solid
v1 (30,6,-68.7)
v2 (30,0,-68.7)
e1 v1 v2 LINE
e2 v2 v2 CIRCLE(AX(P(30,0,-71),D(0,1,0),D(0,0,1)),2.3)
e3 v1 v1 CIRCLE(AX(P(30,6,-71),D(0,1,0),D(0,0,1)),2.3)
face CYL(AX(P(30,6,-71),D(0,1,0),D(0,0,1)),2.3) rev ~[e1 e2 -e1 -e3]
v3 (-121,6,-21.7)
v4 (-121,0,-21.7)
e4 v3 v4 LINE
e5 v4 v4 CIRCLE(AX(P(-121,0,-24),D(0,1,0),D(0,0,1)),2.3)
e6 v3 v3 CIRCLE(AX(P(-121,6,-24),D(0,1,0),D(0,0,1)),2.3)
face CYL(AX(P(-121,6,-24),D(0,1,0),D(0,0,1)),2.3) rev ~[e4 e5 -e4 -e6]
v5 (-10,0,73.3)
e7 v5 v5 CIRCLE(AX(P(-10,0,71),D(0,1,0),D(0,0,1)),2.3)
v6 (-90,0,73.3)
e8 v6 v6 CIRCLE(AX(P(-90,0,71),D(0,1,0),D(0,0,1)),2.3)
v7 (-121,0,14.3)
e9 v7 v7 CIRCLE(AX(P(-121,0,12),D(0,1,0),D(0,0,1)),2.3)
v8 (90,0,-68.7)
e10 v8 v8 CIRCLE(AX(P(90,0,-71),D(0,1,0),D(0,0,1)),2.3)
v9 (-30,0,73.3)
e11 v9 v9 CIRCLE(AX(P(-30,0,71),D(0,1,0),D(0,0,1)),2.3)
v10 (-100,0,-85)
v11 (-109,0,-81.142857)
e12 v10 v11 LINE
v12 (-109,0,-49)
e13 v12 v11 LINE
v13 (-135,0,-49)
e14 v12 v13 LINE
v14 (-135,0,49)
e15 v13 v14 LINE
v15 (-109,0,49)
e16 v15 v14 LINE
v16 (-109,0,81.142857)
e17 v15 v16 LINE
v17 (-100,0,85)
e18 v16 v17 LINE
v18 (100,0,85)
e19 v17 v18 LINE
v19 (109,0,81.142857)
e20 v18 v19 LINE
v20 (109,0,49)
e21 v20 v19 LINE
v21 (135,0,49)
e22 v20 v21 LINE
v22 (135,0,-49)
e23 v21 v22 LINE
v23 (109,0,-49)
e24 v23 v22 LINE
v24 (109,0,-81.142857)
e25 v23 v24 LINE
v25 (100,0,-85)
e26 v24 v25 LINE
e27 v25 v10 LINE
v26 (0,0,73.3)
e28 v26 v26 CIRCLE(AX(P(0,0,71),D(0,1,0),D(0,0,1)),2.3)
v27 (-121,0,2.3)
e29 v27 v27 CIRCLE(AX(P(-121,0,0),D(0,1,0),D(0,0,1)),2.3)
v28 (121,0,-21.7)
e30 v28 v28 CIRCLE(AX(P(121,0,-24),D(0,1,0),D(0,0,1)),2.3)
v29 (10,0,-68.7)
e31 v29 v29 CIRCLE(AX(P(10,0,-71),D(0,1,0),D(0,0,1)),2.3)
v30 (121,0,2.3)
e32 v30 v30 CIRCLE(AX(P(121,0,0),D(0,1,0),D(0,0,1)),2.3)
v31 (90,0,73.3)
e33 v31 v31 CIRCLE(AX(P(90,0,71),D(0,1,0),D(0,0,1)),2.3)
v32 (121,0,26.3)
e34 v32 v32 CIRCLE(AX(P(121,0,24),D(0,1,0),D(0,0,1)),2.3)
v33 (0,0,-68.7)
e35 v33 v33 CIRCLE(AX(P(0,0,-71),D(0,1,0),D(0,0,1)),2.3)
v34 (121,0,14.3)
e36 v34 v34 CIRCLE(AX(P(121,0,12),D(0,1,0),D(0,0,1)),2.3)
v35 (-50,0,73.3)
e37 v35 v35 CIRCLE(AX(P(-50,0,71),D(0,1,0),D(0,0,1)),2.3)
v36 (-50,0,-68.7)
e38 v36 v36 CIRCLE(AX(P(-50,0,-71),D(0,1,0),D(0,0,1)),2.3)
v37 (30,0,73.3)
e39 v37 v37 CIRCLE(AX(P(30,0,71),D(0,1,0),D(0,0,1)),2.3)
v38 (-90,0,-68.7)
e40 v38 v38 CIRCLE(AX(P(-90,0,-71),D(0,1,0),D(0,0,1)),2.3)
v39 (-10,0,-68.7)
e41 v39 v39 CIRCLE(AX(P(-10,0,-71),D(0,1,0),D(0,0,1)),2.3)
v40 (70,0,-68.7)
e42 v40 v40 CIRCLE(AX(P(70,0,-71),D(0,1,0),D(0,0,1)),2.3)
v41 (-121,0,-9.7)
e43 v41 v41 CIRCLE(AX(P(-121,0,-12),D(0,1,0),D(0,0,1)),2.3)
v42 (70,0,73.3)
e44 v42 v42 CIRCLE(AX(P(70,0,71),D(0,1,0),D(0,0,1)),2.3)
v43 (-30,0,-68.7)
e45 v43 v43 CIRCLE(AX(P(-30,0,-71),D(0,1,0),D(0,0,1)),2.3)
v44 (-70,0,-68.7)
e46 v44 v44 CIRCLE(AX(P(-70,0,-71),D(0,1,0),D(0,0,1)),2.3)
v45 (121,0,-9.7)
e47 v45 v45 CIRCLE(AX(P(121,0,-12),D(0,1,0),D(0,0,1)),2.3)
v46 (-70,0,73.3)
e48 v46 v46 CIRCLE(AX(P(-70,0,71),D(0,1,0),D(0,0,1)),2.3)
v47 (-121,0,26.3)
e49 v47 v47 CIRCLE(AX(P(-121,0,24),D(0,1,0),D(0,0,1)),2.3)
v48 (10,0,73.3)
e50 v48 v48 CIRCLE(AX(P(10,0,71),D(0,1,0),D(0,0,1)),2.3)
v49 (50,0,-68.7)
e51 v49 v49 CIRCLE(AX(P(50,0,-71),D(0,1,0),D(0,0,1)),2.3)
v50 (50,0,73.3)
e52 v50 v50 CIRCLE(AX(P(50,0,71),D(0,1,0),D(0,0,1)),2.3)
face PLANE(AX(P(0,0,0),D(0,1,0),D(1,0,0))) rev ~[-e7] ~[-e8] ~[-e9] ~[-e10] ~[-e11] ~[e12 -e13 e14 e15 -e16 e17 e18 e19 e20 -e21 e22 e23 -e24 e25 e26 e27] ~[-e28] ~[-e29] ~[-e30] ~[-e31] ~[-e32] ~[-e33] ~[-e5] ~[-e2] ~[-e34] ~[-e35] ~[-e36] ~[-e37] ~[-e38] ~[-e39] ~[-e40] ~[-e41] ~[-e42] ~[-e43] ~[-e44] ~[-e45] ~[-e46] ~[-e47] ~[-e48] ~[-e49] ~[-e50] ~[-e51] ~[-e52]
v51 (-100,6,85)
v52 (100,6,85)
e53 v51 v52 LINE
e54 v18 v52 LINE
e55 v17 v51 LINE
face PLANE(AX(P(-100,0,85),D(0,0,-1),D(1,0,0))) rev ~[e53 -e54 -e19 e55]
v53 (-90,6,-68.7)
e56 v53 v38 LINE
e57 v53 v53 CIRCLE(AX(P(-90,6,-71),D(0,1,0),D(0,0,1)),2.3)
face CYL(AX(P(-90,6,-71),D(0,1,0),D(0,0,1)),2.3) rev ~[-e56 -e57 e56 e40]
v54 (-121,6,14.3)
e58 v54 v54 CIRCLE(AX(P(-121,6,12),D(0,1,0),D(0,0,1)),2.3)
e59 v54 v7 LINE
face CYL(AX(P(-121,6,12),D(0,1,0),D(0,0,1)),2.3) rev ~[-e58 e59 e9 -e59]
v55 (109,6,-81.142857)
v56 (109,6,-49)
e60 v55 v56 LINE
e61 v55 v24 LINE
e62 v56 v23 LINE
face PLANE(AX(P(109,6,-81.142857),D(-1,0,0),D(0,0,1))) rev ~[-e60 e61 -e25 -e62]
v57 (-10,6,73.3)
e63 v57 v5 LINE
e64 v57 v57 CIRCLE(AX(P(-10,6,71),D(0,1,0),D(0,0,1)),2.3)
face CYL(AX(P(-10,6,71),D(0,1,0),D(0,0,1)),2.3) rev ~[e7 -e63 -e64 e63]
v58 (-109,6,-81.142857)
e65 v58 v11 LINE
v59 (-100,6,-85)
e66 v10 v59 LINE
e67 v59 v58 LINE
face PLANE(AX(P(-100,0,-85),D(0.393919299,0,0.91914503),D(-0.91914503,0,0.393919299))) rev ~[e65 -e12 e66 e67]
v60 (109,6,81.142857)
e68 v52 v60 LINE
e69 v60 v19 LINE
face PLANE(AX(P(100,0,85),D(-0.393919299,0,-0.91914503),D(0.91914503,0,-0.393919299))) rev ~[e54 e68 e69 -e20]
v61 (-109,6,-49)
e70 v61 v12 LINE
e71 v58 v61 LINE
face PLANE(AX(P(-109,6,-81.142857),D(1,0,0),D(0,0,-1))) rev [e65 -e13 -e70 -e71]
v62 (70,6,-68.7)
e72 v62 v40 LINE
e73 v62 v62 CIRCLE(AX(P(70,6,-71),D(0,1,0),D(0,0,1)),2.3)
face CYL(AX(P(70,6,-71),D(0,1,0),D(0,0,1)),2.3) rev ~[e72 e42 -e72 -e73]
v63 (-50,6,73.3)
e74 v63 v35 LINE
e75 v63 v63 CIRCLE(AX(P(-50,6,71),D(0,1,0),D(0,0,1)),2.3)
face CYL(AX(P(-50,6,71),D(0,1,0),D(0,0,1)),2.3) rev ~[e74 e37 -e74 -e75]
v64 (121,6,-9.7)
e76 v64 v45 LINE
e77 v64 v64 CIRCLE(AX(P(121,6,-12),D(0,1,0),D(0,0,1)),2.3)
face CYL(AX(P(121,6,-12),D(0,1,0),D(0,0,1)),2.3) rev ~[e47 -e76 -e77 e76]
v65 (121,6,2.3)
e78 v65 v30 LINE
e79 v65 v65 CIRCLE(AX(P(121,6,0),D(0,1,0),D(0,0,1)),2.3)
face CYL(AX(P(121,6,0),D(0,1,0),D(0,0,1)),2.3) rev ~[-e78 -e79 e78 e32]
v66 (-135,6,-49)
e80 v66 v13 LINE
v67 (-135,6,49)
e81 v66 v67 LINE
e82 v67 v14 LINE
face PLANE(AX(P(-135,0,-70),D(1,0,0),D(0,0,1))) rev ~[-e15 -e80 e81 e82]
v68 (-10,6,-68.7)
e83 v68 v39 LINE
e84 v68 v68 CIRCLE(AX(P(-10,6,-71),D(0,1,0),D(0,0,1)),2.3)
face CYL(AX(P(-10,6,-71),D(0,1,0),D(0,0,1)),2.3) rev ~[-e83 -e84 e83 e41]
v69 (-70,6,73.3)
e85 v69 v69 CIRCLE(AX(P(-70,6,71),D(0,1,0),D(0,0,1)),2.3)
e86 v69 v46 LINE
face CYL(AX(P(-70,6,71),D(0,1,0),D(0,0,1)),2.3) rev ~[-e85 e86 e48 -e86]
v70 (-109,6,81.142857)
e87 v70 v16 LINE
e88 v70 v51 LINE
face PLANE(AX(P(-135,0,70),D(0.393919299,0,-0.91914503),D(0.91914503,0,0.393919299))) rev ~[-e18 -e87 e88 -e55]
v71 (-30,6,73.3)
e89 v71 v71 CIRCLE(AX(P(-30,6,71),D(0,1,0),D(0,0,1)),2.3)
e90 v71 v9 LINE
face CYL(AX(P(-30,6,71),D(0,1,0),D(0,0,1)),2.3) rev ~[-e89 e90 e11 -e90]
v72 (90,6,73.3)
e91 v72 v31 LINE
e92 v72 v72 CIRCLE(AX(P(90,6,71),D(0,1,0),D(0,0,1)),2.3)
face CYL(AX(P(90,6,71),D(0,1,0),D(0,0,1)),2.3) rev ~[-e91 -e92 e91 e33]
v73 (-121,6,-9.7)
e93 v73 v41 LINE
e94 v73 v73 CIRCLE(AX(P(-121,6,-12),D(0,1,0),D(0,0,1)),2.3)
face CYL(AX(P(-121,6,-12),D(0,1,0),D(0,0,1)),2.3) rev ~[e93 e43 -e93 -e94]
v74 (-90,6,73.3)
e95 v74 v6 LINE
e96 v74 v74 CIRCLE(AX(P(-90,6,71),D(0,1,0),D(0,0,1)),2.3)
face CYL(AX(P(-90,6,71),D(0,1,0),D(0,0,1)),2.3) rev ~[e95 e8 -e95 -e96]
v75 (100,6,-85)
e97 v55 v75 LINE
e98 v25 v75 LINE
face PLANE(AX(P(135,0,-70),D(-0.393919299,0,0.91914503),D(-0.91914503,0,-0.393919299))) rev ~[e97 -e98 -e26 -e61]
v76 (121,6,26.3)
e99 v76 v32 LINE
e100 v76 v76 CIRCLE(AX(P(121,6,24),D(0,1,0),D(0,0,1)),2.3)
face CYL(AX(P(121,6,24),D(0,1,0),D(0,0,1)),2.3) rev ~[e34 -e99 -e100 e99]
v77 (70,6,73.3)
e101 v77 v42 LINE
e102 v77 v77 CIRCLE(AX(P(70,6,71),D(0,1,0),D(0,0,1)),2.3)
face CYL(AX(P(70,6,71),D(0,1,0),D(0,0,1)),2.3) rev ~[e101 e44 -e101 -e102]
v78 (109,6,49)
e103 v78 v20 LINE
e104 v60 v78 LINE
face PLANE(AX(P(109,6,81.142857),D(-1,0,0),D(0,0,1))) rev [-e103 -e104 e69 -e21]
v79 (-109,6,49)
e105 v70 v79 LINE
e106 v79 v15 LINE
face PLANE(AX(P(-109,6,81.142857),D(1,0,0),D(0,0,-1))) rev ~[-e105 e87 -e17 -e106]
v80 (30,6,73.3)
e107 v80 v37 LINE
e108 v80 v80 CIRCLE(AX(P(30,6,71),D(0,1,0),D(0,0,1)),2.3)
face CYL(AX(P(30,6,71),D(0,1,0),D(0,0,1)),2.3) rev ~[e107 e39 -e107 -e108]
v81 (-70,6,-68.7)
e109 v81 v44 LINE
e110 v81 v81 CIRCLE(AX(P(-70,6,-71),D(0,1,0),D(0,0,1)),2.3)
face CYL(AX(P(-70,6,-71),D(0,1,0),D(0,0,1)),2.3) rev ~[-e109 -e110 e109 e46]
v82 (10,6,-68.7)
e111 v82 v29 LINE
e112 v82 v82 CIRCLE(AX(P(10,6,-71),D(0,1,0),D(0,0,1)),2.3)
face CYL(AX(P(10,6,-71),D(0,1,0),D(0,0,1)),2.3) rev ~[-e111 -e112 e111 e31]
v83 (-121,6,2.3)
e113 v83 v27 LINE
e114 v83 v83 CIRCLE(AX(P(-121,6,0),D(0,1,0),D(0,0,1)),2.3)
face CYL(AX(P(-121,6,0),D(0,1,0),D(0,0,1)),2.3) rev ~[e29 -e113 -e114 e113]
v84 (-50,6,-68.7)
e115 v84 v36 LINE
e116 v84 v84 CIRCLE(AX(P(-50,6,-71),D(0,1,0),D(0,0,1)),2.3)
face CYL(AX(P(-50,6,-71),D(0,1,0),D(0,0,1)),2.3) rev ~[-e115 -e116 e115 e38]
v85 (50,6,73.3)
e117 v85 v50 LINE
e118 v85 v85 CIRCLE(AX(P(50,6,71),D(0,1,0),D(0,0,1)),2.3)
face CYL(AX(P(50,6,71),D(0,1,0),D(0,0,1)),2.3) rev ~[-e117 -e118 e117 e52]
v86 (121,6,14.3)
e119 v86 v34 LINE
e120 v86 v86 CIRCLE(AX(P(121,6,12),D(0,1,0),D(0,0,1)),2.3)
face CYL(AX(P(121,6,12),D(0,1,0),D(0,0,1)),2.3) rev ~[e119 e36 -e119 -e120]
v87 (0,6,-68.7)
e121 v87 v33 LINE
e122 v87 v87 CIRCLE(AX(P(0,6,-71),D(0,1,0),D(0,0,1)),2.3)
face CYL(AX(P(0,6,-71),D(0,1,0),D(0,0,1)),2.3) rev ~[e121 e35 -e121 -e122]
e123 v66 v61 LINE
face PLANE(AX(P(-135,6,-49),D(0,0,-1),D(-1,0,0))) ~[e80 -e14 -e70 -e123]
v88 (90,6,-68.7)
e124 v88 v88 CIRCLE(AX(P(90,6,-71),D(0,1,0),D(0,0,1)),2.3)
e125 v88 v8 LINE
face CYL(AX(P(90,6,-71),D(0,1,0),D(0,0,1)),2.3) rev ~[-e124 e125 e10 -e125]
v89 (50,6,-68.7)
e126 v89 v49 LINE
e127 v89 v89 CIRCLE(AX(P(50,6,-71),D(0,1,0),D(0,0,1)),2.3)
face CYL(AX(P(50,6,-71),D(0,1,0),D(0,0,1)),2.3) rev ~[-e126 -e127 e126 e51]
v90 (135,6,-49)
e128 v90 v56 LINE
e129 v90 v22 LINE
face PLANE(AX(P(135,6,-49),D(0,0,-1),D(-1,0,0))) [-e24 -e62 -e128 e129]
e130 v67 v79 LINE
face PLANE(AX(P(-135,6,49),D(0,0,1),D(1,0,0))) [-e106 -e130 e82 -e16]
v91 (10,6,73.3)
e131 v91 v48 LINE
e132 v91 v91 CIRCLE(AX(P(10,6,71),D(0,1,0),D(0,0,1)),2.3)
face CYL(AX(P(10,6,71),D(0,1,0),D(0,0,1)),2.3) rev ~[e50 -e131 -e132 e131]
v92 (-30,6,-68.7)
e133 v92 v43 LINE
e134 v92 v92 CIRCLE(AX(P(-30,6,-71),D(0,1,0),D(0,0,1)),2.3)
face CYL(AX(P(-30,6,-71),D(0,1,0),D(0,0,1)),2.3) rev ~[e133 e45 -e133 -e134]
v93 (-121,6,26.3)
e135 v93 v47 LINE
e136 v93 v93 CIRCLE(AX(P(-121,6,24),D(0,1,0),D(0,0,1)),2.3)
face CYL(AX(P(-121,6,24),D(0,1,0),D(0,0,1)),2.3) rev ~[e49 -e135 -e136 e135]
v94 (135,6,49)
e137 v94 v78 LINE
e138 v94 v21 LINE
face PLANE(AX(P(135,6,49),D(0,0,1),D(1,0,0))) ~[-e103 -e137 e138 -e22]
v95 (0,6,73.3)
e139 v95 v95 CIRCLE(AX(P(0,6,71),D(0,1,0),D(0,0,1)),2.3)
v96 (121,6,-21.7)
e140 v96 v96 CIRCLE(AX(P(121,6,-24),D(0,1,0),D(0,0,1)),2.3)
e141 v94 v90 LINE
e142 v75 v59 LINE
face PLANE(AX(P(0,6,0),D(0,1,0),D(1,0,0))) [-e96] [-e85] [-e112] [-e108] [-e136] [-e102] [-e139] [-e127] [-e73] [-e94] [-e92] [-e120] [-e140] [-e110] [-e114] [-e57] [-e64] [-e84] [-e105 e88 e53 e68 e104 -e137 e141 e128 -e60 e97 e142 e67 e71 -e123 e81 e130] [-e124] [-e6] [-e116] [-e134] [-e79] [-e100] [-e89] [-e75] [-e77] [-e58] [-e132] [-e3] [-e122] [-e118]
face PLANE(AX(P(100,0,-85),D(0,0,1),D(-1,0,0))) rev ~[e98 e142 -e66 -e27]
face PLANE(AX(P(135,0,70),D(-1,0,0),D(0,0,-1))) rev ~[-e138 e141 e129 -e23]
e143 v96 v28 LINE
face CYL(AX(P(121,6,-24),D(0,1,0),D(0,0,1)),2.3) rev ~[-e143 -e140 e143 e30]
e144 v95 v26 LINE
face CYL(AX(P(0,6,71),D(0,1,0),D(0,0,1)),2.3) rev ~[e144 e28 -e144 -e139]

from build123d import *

# Parameters (mm, degrees)
BOSS_EXTRU_1_DEPTH       = 6
ENL_V_MAT_EXTRU_6_REACH  = 161.643
ESQUISSE15_R             = 2.3
ENL_V_MAT_EXTRU_7_REACH  = 161.643
ESQUISSE17_R             = 2.3
ENL_V_MAT_EXTRU_10_REACH = 161.643
SYM_TRIE8_COPY_1_REACH   = 161.643
ENL_V_MAT_EXTRU_11_REACH = 161.643
ESQUISSE21_R             = 2.3


with BuildPart() as part:
    # Esquisse1 → Boss.-Extru.1 (new body)
    with BuildSketch(Plane(origin=(0, 0, 0), x_dir=(1, 0, 0), z_dir=(0, 1, 0))):
        Polygon((-135, 0), (-135, -70), (-100, -85), (0, -85), (100, -85), (135, -70), (135, 0), (135, 70), (100, 85), (0, 85), (-100, 85), (-135, 70), align=None)
    extrude(amount=BOSS_EXTRU_1_DEPTH)

    # Esquisse15 → Enlèv. mat.-Extru.6 (cut, up to next)
    with BuildSketch(Plane(origin=(0, 6, 0), x_dir=(1, 0, 0), z_dir=(0, 1, 0)), mode=Mode.PRIVATE) as enl_v_mat_extru_6_sk1:
        with Locations(Location((-120, -60, 0), (0, 0, 270))):
            Circle(ESQUISSE15_R)
    enl_v_mat_extru_6_tool1 = extrude(enl_v_mat_extru_6_sk1.sketch, amount=-ENL_V_MAT_EXTRU_6_REACH, mode=Mode.PRIVATE) & part.part
    # Esquisse15 → Enlèv. mat.-Extru.6 (cut, up to next)
    with BuildSketch(Plane(origin=(0, 6, 0), x_dir=(1, 0, 0), z_dir=(0, 1, 0)), mode=Mode.PRIVATE) as enl_v_mat_extru_6_sk2:
        with Locations(Location((-120, 60, 0), (0, 0, 270))):
            Circle(ESQUISSE15_R)
    enl_v_mat_extru_6_tool2 = extrude(enl_v_mat_extru_6_sk2.sketch, amount=-ENL_V_MAT_EXTRU_6_REACH, mode=Mode.PRIVATE) & part.part
    enl_v_mat_extru_6_1 = enl_v_mat_extru_6_tool1.solids().sort_by_distance((-120, 6, 60))[0]
    add(enl_v_mat_extru_6_1, mode=Mode.SUBTRACT)
    enl_v_mat_extru_6_2 = enl_v_mat_extru_6_tool2.solids().sort_by_distance((-120, 6, -60))[0]
    add(enl_v_mat_extru_6_2, mode=Mode.SUBTRACT)
    enl_v_mat_extru_6 = enl_v_mat_extru_6_1 + enl_v_mat_extru_6_2  # Enlèv. mat.-Extru.6 as one shape, for the pattern or mirror that repeats it

    # Symétrie5: Enlèv. mat.-Extru.6 across plane
    add(enl_v_mat_extru_6.mirror(Plane(origin=(0, 0, 0), x_dir=(0, 0, 1), z_dir=(1, 0, 0))), mode=Mode.SUBTRACT)

    # Esquisse17 → Enlèv. mat.-Extru.7 (cut, up to next)
    with BuildSketch(Plane(origin=(0, 6, 0), x_dir=(1, 0, 0), z_dir=(0, 1, 0)), mode=Mode.PRIVATE) as enl_v_mat_extru_7_sk1:
        with Locations(Location((0, -71, 0), (0, 0, 270))):
            Circle(ESQUISSE17_R)
    enl_v_mat_extru_7_tool1 = extrude(enl_v_mat_extru_7_sk1.sketch, amount=-ENL_V_MAT_EXTRU_7_REACH, mode=Mode.PRIVATE) & part.part
    # Esquisse17 → Enlèv. mat.-Extru.7 (cut, up to next)
    with BuildSketch(Plane(origin=(0, 6, 0), x_dir=(1, 0, 0), z_dir=(0, 1, 0)), mode=Mode.PRIVATE) as enl_v_mat_extru_7_sk2:
        with Locations(Location((10, -71, 0), (0, 0, 270))):
            Circle(ESQUISSE17_R)
    enl_v_mat_extru_7_tool2 = extrude(enl_v_mat_extru_7_sk2.sketch, amount=-ENL_V_MAT_EXTRU_7_REACH, mode=Mode.PRIVATE) & part.part
    # Esquisse17 → Enlèv. mat.-Extru.7 (cut, up to next)
    with BuildSketch(Plane(origin=(0, 6, 0), x_dir=(1, 0, 0), z_dir=(0, 1, 0)), mode=Mode.PRIVATE) as enl_v_mat_extru_7_sk3:
        with Locations(Location((-10, -71, 0), (0, 0, 270))):
            Circle(ESQUISSE17_R)
    enl_v_mat_extru_7_tool3 = extrude(enl_v_mat_extru_7_sk3.sketch, amount=-ENL_V_MAT_EXTRU_7_REACH, mode=Mode.PRIVATE) & part.part
    # Esquisse17 → Enlèv. mat.-Extru.7 (cut, up to next)
    with BuildSketch(Plane(origin=(0, 6, 0), x_dir=(1, 0, 0), z_dir=(0, 1, 0)), mode=Mode.PRIVATE) as enl_v_mat_extru_7_sk4:
        with Locations(Location((30, -71, 0), (0, 0, 270))):
            Circle(ESQUISSE17_R)
    enl_v_mat_extru_7_tool4 = extrude(enl_v_mat_extru_7_sk4.sketch, amount=-ENL_V_MAT_EXTRU_7_REACH, mode=Mode.PRIVATE) & part.part
    # Esquisse17 → Enlèv. mat.-Extru.7 (cut, up to next)
    with BuildSketch(Plane(origin=(0, 6, 0), x_dir=(1, 0, 0), z_dir=(0, 1, 0)), mode=Mode.PRIVATE) as enl_v_mat_extru_7_sk5:
        with Locations(Location((50, -71, 0), (0, 0, 270))):
            Circle(ESQUISSE17_R)
    enl_v_mat_extru_7_tool5 = extrude(enl_v_mat_extru_7_sk5.sketch, amount=-ENL_V_MAT_EXTRU_7_REACH, mode=Mode.PRIVATE) & part.part
    # Esquisse17 → Enlèv. mat.-Extru.7 (cut, up to next)
    with BuildSketch(Plane(origin=(0, 6, 0), x_dir=(1, 0, 0), z_dir=(0, 1, 0)), mode=Mode.PRIVATE) as enl_v_mat_extru_7_sk6:
        with Locations(Location((90, -71, 0), (0, 0, 270))):
            Circle(ESQUISSE17_R)
    enl_v_mat_extru_7_tool6 = extrude(enl_v_mat_extru_7_sk6.sketch, amount=-ENL_V_MAT_EXTRU_7_REACH, mode=Mode.PRIVATE) & part.part
    # Esquisse17 → Enlèv. mat.-Extru.7 (cut, up to next)
    with BuildSketch(Plane(origin=(0, 6, 0), x_dir=(1, 0, 0), z_dir=(0, 1, 0)), mode=Mode.PRIVATE) as enl_v_mat_extru_7_sk7:
        with Locations(Location((-50, -71, 0), (0, 0, 270))):
            Circle(ESQUISSE17_R)
    enl_v_mat_extru_7_tool7 = extrude(enl_v_mat_extru_7_sk7.sketch, amount=-ENL_V_MAT_EXTRU_7_REACH, mode=Mode.PRIVATE) & part.part
    # Esquisse17 → Enlèv. mat.-Extru.7 (cut, up to next)
    with BuildSketch(Plane(origin=(0, 6, 0), x_dir=(1, 0, 0), z_dir=(0, 1, 0)), mode=Mode.PRIVATE) as enl_v_mat_extru_7_sk8:
        with Locations(Location((-90, -71, 0), (0, 0, 270))):
            Circle(ESQUISSE17_R)
    enl_v_mat_extru_7_tool8 = extrude(enl_v_mat_extru_7_sk8.sketch, amount=-ENL_V_MAT_EXTRU_7_REACH, mode=Mode.PRIVATE) & part.part
    # Esquisse17 → Enlèv. mat.-Extru.7 (cut, up to next)
    with BuildSketch(Plane(origin=(0, 6, 0), x_dir=(1, 0, 0), z_dir=(0, 1, 0)), mode=Mode.PRIVATE) as enl_v_mat_extru_7_sk9:
        with Locations(Location((-90, 71, 0), (0, 0, 270))):
            Circle(ESQUISSE17_R)
    enl_v_mat_extru_7_tool9 = extrude(enl_v_mat_extru_7_sk9.sketch, amount=-ENL_V_MAT_EXTRU_7_REACH, mode=Mode.PRIVATE) & part.part
    # Esquisse17 → Enlèv. mat.-Extru.7 (cut, up to next)
    with BuildSketch(Plane(origin=(0, 6, 0), x_dir=(1, 0, 0), z_dir=(0, 1, 0)), mode=Mode.PRIVATE) as enl_v_mat_extru_7_sk10:
        with Locations(Location((-50, 71, 0), (0, 0, 270))):
            Circle(ESQUISSE17_R)
    enl_v_mat_extru_7_tool10 = extrude(enl_v_mat_extru_7_sk10.sketch, amount=-ENL_V_MAT_EXTRU_7_REACH, mode=Mode.PRIVATE) & part.part
    # Esquisse17 → Enlèv. mat.-Extru.7 (cut, up to next)
    with BuildSketch(Plane(origin=(0, 6, 0), x_dir=(1, 0, 0), z_dir=(0, 1, 0)), mode=Mode.PRIVATE) as enl_v_mat_extru_7_sk11:
        with Locations(Location((-30, 71, 0), (0, 0, 270))):
            Circle(ESQUISSE17_R)
    enl_v_mat_extru_7_tool11 = extrude(enl_v_mat_extru_7_sk11.sketch, amount=-ENL_V_MAT_EXTRU_7_REACH, mode=Mode.PRIVATE) & part.part
    # Esquisse17 → Enlèv. mat.-Extru.7 (cut, up to next)
    with BuildSketch(Plane(origin=(0, 6, 0), x_dir=(1, 0, 0), z_dir=(0, 1, 0)), mode=Mode.PRIVATE) as enl_v_mat_extru_7_sk12:
        with Locations(Location((90, 71, 0), (0, 0, 270))):
            Circle(ESQUISSE17_R)
    enl_v_mat_extru_7_tool12 = extrude(enl_v_mat_extru_7_sk12.sketch, amount=-ENL_V_MAT_EXTRU_7_REACH, mode=Mode.PRIVATE) & part.part
    # Esquisse17 → Enlèv. mat.-Extru.7 (cut, up to next)
    with BuildSketch(Plane(origin=(0, 6, 0), x_dir=(1, 0, 0), z_dir=(0, 1, 0)), mode=Mode.PRIVATE) as enl_v_mat_extru_7_sk13:
        with Locations(Location((50, 71, 0), (0, 0, 270))):
            Circle(ESQUISSE17_R)
    enl_v_mat_extru_7_tool13 = extrude(enl_v_mat_extru_7_sk13.sketch, amount=-ENL_V_MAT_EXTRU_7_REACH, mode=Mode.PRIVATE) & part.part
    # Esquisse17 → Enlèv. mat.-Extru.7 (cut, up to next)
    with BuildSketch(Plane(origin=(0, 6, 0), x_dir=(1, 0, 0), z_dir=(0, 1, 0)), mode=Mode.PRIVATE) as enl_v_mat_extru_7_sk14:
        with Locations(Location((30, 71, 0), (0, 0, 270))):
            Circle(ESQUISSE17_R)
    enl_v_mat_extru_7_tool14 = extrude(enl_v_mat_extru_7_sk14.sketch, amount=-ENL_V_MAT_EXTRU_7_REACH, mode=Mode.PRIVATE) & part.part
    # Esquisse17 → Enlèv. mat.-Extru.7 (cut, up to next)
    with BuildSketch(Plane(origin=(0, 6, 0), x_dir=(1, 0, 0), z_dir=(0, 1, 0)), mode=Mode.PRIVATE) as enl_v_mat_extru_7_sk15:
        with Locations(Location((-10, 71, 0), (0, 0, 270))):
            Circle(ESQUISSE17_R)
    enl_v_mat_extru_7_tool15 = extrude(enl_v_mat_extru_7_sk15.sketch, amount=-ENL_V_MAT_EXTRU_7_REACH, mode=Mode.PRIVATE) & part.part
    # Esquisse17 → Enlèv. mat.-Extru.7 (cut, up to next)
    with BuildSketch(Plane(origin=(0, 6, 0), x_dir=(1, 0, 0), z_dir=(0, 1, 0)), mode=Mode.PRIVATE) as enl_v_mat_extru_7_sk16:
        with Locations(Location((10, 71, 0), (0, 0, 270))):
            Circle(ESQUISSE17_R)
    enl_v_mat_extru_7_tool16 = extrude(enl_v_mat_extru_7_sk16.sketch, amount=-ENL_V_MAT_EXTRU_7_REACH, mode=Mode.PRIVATE) & part.part
    # Esquisse17 → Enlèv. mat.-Extru.7 (cut, up to next)
    with BuildSketch(Plane(origin=(0, 6, 0), x_dir=(1, 0, 0), z_dir=(0, 1, 0)), mode=Mode.PRIVATE) as enl_v_mat_extru_7_sk17:
        with Locations(Location((0, 71, 0), (0, 0, 270))):
            Circle(ESQUISSE17_R)
    enl_v_mat_extru_7_tool17 = extrude(enl_v_mat_extru_7_sk17.sketch, amount=-ENL_V_MAT_EXTRU_7_REACH, mode=Mode.PRIVATE) & part.part
    # Esquisse17 → Enlèv. mat.-Extru.7 (cut, up to next)
    with BuildSketch(Plane(origin=(0, 6, 0), x_dir=(1, 0, 0), z_dir=(0, 1, 0)), mode=Mode.PRIVATE) as enl_v_mat_extru_7_sk18:
        with Locations(Location((-70, -71, 0), (0, 0, 270))):
            Circle(ESQUISSE17_R)
    enl_v_mat_extru_7_tool18 = extrude(enl_v_mat_extru_7_sk18.sketch, amount=-ENL_V_MAT_EXTRU_7_REACH, mode=Mode.PRIVATE) & part.part
    # Esquisse17 → Enlèv. mat.-Extru.7 (cut, up to next)
    with BuildSketch(Plane(origin=(0, 6, 0), x_dir=(1, 0, 0), z_dir=(0, 1, 0)), mode=Mode.PRIVATE) as enl_v_mat_extru_7_sk19:
        with Locations(Location((-30, -71, 0), (0, 0, 270))):
            Circle(ESQUISSE17_R)
    enl_v_mat_extru_7_tool19 = extrude(enl_v_mat_extru_7_sk19.sketch, amount=-ENL_V_MAT_EXTRU_7_REACH, mode=Mode.PRIVATE) & part.part
    # Esquisse17 → Enlèv. mat.-Extru.7 (cut, up to next)
    with BuildSketch(Plane(origin=(0, 6, 0), x_dir=(1, 0, 0), z_dir=(0, 1, 0)), mode=Mode.PRIVATE) as enl_v_mat_extru_7_sk20:
        with Locations(Location((70, -71, 0), (0, 0, 270))):
            Circle(ESQUISSE17_R)
    enl_v_mat_extru_7_tool20 = extrude(enl_v_mat_extru_7_sk20.sketch, amount=-ENL_V_MAT_EXTRU_7_REACH, mode=Mode.PRIVATE) & part.part
    # Esquisse17 → Enlèv. mat.-Extru.7 (cut, up to next)
    with BuildSketch(Plane(origin=(0, 6, 0), x_dir=(1, 0, 0), z_dir=(0, 1, 0)), mode=Mode.PRIVATE) as enl_v_mat_extru_7_sk21:
        with Locations(Location((70, 71, 0), (0, 0, 270))):
            Circle(ESQUISSE17_R)
    enl_v_mat_extru_7_tool21 = extrude(enl_v_mat_extru_7_sk21.sketch, amount=-ENL_V_MAT_EXTRU_7_REACH, mode=Mode.PRIVATE) & part.part
    # Esquisse17 → Enlèv. mat.-Extru.7 (cut, up to next)
    with BuildSketch(Plane(origin=(0, 6, 0), x_dir=(1, 0, 0), z_dir=(0, 1, 0)), mode=Mode.PRIVATE) as enl_v_mat_extru_7_sk22:
        with Locations(Location((-70, 71, 0), (0, 0, 270))):
            Circle(ESQUISSE17_R)
    enl_v_mat_extru_7_tool22 = extrude(enl_v_mat_extru_7_sk22.sketch, amount=-ENL_V_MAT_EXTRU_7_REACH, mode=Mode.PRIVATE) & part.part
    add(enl_v_mat_extru_7_tool1.solids().sort_by_distance((0, 6, 71))[0], mode=Mode.SUBTRACT)
    add(enl_v_mat_extru_7_tool2.solids().sort_by_distance((10, 6, 71))[0], mode=Mode.SUBTRACT)
    add(enl_v_mat_extru_7_tool3.solids().sort_by_distance((-10, 6, 71))[0], mode=Mode.SUBTRACT)
    add(enl_v_mat_extru_7_tool4.solids().sort_by_distance((30, 6, 71))[0], mode=Mode.SUBTRACT)
    add(enl_v_mat_extru_7_tool5.solids().sort_by_distance((50, 6, 71))[0], mode=Mode.SUBTRACT)
    add(enl_v_mat_extru_7_tool6.solids().sort_by_distance((90, 6, 71))[0], mode=Mode.SUBTRACT)
    add(enl_v_mat_extru_7_tool7.solids().sort_by_distance((-50, 6, 71))[0], mode=Mode.SUBTRACT)
    add(enl_v_mat_extru_7_tool8.solids().sort_by_distance((-90, 6, 71))[0], mode=Mode.SUBTRACT)
    add(enl_v_mat_extru_7_tool9.solids().sort_by_distance((-90, 6, -71))[0], mode=Mode.SUBTRACT)
    add(enl_v_mat_extru_7_tool10.solids().sort_by_distance((-50, 6, -71))[0], mode=Mode.SUBTRACT)
    add(enl_v_mat_extru_7_tool11.solids().sort_by_distance((-30, 6, -71))[0], mode=Mode.SUBTRACT)
    add(enl_v_mat_extru_7_tool12.solids().sort_by_distance((90, 6, -71))[0], mode=Mode.SUBTRACT)
    add(enl_v_mat_extru_7_tool13.solids().sort_by_distance((50, 6, -71))[0], mode=Mode.SUBTRACT)
    add(enl_v_mat_extru_7_tool14.solids().sort_by_distance((30, 6, -71))[0], mode=Mode.SUBTRACT)
    add(enl_v_mat_extru_7_tool15.solids().sort_by_distance((-10, 6, -71))[0], mode=Mode.SUBTRACT)
    add(enl_v_mat_extru_7_tool16.solids().sort_by_distance((10, 6, -71))[0], mode=Mode.SUBTRACT)
    add(enl_v_mat_extru_7_tool17.solids().sort_by_distance((0, 6, -71))[0], mode=Mode.SUBTRACT)
    add(enl_v_mat_extru_7_tool18.solids().sort_by_distance((-70, 6, 71))[0], mode=Mode.SUBTRACT)
    add(enl_v_mat_extru_7_tool19.solids().sort_by_distance((-30, 6, 71))[0], mode=Mode.SUBTRACT)
    add(enl_v_mat_extru_7_tool20.solids().sort_by_distance((70, 6, 71))[0], mode=Mode.SUBTRACT)
    add(enl_v_mat_extru_7_tool21.solids().sort_by_distance((70, 6, -71))[0], mode=Mode.SUBTRACT)
    add(enl_v_mat_extru_7_tool22.solids().sort_by_distance((-70, 6, -71))[0], mode=Mode.SUBTRACT)

    # Esquisse20 → Enlèv. mat.-Extru.10 (cut, up to next)
    with BuildSketch(Plane(origin=(0, 6, 0), x_dir=(1, 0, 0), z_dir=(0, 1, 0)), mode=Mode.PRIVATE) as enl_v_mat_extru_10_sk1:
        Polygon((-109, -60), (-109, -81.142857143), (-135, -70.571428571), (-135, -49), (-109, -49), align=None)
    enl_v_mat_extru_10_tool1 = extrude(enl_v_mat_extru_10_sk1.sketch, amount=-ENL_V_MAT_EXTRU_10_REACH, mode=Mode.PRIVATE) & part.part
    enl_v_mat_extru_10 = enl_v_mat_extru_10_tool1.solids().sort_by_distance((-121.147163, 6, 62.60195))[0]
    add(enl_v_mat_extru_10, mode=Mode.SUBTRACT)

    # Symétrie7: Enlèv. mat.-Extru.10 across plane
    add(enl_v_mat_extru_10.mirror(Plane(origin=(0, 0, 0), x_dir=(0, 0, 1), z_dir=(1, 0, 0))), mode=Mode.SUBTRACT)

    # Symétrie8: Enlèv. mat.-Extru.10 across plane
    add(enl_v_mat_extru_10.mirror(Plane.XY), mode=Mode.SUBTRACT)

    # Symétrie8 copy 1 sketch → Symétrie8 copy 1 (cut, up to next)
    with BuildSketch(Plane(origin=(0, 6, 0), x_dir=(-1, 0, 0), z_dir=(0, 1, 0)), mode=Mode.PRIVATE) as sym_trie8_copy_1_sk1:
        Polygon((-109, -60), (-109, -81.142857143), (-135, -70.571428571), (-135, -49), (-109, -49), align=None)
    sym_trie8_copy_1_tool1 = extrude(sym_trie8_copy_1_sk1.sketch, amount=-SYM_TRIE8_COPY_1_REACH, mode=Mode.PRIVATE) & part.part
    add(sym_trie8_copy_1_tool1.solids().sort_by_distance((121.147163, 6, -62.60195))[0], mode=Mode.SUBTRACT)

    # Esquisse21 → Enlèv. mat.-Extru.11 (cut, up to next)
    with BuildSketch(Plane(origin=(0, 6, 0), x_dir=(1, 0, 0), z_dir=(0, 1, 0)), mode=Mode.PRIVATE) as enl_v_mat_extru_11_sk1:
        with Locations(Location((-121, 24, 0), (0, 0, 270))):
            Circle(ESQUISSE21_R)
    enl_v_mat_extru_11_tool1 = extrude(enl_v_mat_extru_11_sk1.sketch, amount=-ENL_V_MAT_EXTRU_11_REACH, mode=Mode.PRIVATE) & part.part
    # Esquisse21 → Enlèv. mat.-Extru.11 (cut, up to next)
    with BuildSketch(Plane(origin=(0, 6, 0), x_dir=(1, 0, 0), z_dir=(0, 1, 0)), mode=Mode.PRIVATE) as enl_v_mat_extru_11_sk2:
        with Locations(Location((-121, 12, 0), (0, 0, 270))):
            Circle(ESQUISSE21_R)
    enl_v_mat_extru_11_tool2 = extrude(enl_v_mat_extru_11_sk2.sketch, amount=-ENL_V_MAT_EXTRU_11_REACH, mode=Mode.PRIVATE) & part.part
    # Esquisse21 → Enlèv. mat.-Extru.11 (cut, up to next)
    with BuildSketch(Plane(origin=(0, 6, 0), x_dir=(1, 0, 0), z_dir=(0, 1, 0)), mode=Mode.PRIVATE) as enl_v_mat_extru_11_sk3:
        with Locations(Location((-121, -24, 0), (0, 0, 270))):
            Circle(ESQUISSE21_R)
    enl_v_mat_extru_11_tool3 = extrude(enl_v_mat_extru_11_sk3.sketch, amount=-ENL_V_MAT_EXTRU_11_REACH, mode=Mode.PRIVATE) & part.part
    # Esquisse21 → Enlèv. mat.-Extru.11 (cut, up to next)
    with BuildSketch(Plane(origin=(0, 6, 0), x_dir=(1, 0, 0), z_dir=(0, 1, 0)), mode=Mode.PRIVATE) as enl_v_mat_extru_11_sk4:
        with Locations(Location((-121, -12, 0), (0, 0, 270))):
            Circle(ESQUISSE21_R)
    enl_v_mat_extru_11_tool4 = extrude(enl_v_mat_extru_11_sk4.sketch, amount=-ENL_V_MAT_EXTRU_11_REACH, mode=Mode.PRIVATE) & part.part
    # Esquisse21 → Enlèv. mat.-Extru.11 (cut, up to next)
    with BuildSketch(Plane(origin=(0, 6, 0), x_dir=(1, 0, 0), z_dir=(0, 1, 0)), mode=Mode.PRIVATE) as enl_v_mat_extru_11_sk5:
        with Locations(Location((-121, 0, 0), (0, 0, 270))):
            Circle(ESQUISSE21_R)
    enl_v_mat_extru_11_tool5 = extrude(enl_v_mat_extru_11_sk5.sketch, amount=-ENL_V_MAT_EXTRU_11_REACH, mode=Mode.PRIVATE) & part.part
    # Esquisse21 → Enlèv. mat.-Extru.11 (cut, up to next)
    with BuildSketch(Plane(origin=(0, 6, 0), x_dir=(1, 0, 0), z_dir=(0, 1, 0)), mode=Mode.PRIVATE) as enl_v_mat_extru_11_sk6:
        with Locations(Location((121, 0, 0), (0, 0, 270))):
            Circle(ESQUISSE21_R)
    enl_v_mat_extru_11_tool6 = extrude(enl_v_mat_extru_11_sk6.sketch, amount=-ENL_V_MAT_EXTRU_11_REACH, mode=Mode.PRIVATE) & part.part
    # Esquisse21 → Enlèv. mat.-Extru.11 (cut, up to next)
    with BuildSketch(Plane(origin=(0, 6, 0), x_dir=(1, 0, 0), z_dir=(0, 1, 0)), mode=Mode.PRIVATE) as enl_v_mat_extru_11_sk7:
        with Locations(Location((121, -12, 0), (0, 0, 270))):
            Circle(ESQUISSE21_R)
    enl_v_mat_extru_11_tool7 = extrude(enl_v_mat_extru_11_sk7.sketch, amount=-ENL_V_MAT_EXTRU_11_REACH, mode=Mode.PRIVATE) & part.part
    # Esquisse21 → Enlèv. mat.-Extru.11 (cut, up to next)
    with BuildSketch(Plane(origin=(0, 6, 0), x_dir=(1, 0, 0), z_dir=(0, 1, 0)), mode=Mode.PRIVATE) as enl_v_mat_extru_11_sk8:
        with Locations(Location((121, -24, 0), (0, 0, 270))):
            Circle(ESQUISSE21_R)
    enl_v_mat_extru_11_tool8 = extrude(enl_v_mat_extru_11_sk8.sketch, amount=-ENL_V_MAT_EXTRU_11_REACH, mode=Mode.PRIVATE) & part.part
    # Esquisse21 → Enlèv. mat.-Extru.11 (cut, up to next)
    with BuildSketch(Plane(origin=(0, 6, 0), x_dir=(1, 0, 0), z_dir=(0, 1, 0)), mode=Mode.PRIVATE) as enl_v_mat_extru_11_sk9:
        with Locations(Location((121, 12, 0), (0, 0, 270))):
            Circle(ESQUISSE21_R)
    enl_v_mat_extru_11_tool9 = extrude(enl_v_mat_extru_11_sk9.sketch, amount=-ENL_V_MAT_EXTRU_11_REACH, mode=Mode.PRIVATE) & part.part
    # Esquisse21 → Enlèv. mat.-Extru.11 (cut, up to next)
    with BuildSketch(Plane(origin=(0, 6, 0), x_dir=(1, 0, 0), z_dir=(0, 1, 0)), mode=Mode.PRIVATE) as enl_v_mat_extru_11_sk10:
        with Locations(Location((121, 24, 0), (0, 0, 270))):
            Circle(ESQUISSE21_R)
    enl_v_mat_extru_11_tool10 = extrude(enl_v_mat_extru_11_sk10.sketch, amount=-ENL_V_MAT_EXTRU_11_REACH, mode=Mode.PRIVATE) & part.part
    add(enl_v_mat_extru_11_tool1.solids().sort_by_distance((-121, 6, -24))[0], mode=Mode.SUBTRACT)
    add(enl_v_mat_extru_11_tool2.solids().sort_by_distance((-121, 6, -12))[0], mode=Mode.SUBTRACT)
    add(enl_v_mat_extru_11_tool3.solids().sort_by_distance((-121, 6, 24))[0], mode=Mode.SUBTRACT)
    add(enl_v_mat_extru_11_tool4.solids().sort_by_distance((-121, 6, 12))[0], mode=Mode.SUBTRACT)
    add(enl_v_mat_extru_11_tool5.solids().sort_by_distance((-121, 6, 0))[0], mode=Mode.SUBTRACT)
    add(enl_v_mat_extru_11_tool6.solids().sort_by_distance((121, 6, 0))[0], mode=Mode.SUBTRACT)
    add(enl_v_mat_extru_11_tool7.solids().sort_by_distance((121, 6, 12))[0], mode=Mode.SUBTRACT)
    add(enl_v_mat_extru_11_tool8.solids().sort_by_distance((121, 6, 24))[0], mode=Mode.SUBTRACT)
    add(enl_v_mat_extru_11_tool9.solids().sort_by_distance((121, 6, -12))[0], mode=Mode.SUBTRACT)
    add(enl_v_mat_extru_11_tool10.solids().sort_by_distance((121, 6, -24))[0], mode=Mode.SUBTRACT)


solid = part.part
